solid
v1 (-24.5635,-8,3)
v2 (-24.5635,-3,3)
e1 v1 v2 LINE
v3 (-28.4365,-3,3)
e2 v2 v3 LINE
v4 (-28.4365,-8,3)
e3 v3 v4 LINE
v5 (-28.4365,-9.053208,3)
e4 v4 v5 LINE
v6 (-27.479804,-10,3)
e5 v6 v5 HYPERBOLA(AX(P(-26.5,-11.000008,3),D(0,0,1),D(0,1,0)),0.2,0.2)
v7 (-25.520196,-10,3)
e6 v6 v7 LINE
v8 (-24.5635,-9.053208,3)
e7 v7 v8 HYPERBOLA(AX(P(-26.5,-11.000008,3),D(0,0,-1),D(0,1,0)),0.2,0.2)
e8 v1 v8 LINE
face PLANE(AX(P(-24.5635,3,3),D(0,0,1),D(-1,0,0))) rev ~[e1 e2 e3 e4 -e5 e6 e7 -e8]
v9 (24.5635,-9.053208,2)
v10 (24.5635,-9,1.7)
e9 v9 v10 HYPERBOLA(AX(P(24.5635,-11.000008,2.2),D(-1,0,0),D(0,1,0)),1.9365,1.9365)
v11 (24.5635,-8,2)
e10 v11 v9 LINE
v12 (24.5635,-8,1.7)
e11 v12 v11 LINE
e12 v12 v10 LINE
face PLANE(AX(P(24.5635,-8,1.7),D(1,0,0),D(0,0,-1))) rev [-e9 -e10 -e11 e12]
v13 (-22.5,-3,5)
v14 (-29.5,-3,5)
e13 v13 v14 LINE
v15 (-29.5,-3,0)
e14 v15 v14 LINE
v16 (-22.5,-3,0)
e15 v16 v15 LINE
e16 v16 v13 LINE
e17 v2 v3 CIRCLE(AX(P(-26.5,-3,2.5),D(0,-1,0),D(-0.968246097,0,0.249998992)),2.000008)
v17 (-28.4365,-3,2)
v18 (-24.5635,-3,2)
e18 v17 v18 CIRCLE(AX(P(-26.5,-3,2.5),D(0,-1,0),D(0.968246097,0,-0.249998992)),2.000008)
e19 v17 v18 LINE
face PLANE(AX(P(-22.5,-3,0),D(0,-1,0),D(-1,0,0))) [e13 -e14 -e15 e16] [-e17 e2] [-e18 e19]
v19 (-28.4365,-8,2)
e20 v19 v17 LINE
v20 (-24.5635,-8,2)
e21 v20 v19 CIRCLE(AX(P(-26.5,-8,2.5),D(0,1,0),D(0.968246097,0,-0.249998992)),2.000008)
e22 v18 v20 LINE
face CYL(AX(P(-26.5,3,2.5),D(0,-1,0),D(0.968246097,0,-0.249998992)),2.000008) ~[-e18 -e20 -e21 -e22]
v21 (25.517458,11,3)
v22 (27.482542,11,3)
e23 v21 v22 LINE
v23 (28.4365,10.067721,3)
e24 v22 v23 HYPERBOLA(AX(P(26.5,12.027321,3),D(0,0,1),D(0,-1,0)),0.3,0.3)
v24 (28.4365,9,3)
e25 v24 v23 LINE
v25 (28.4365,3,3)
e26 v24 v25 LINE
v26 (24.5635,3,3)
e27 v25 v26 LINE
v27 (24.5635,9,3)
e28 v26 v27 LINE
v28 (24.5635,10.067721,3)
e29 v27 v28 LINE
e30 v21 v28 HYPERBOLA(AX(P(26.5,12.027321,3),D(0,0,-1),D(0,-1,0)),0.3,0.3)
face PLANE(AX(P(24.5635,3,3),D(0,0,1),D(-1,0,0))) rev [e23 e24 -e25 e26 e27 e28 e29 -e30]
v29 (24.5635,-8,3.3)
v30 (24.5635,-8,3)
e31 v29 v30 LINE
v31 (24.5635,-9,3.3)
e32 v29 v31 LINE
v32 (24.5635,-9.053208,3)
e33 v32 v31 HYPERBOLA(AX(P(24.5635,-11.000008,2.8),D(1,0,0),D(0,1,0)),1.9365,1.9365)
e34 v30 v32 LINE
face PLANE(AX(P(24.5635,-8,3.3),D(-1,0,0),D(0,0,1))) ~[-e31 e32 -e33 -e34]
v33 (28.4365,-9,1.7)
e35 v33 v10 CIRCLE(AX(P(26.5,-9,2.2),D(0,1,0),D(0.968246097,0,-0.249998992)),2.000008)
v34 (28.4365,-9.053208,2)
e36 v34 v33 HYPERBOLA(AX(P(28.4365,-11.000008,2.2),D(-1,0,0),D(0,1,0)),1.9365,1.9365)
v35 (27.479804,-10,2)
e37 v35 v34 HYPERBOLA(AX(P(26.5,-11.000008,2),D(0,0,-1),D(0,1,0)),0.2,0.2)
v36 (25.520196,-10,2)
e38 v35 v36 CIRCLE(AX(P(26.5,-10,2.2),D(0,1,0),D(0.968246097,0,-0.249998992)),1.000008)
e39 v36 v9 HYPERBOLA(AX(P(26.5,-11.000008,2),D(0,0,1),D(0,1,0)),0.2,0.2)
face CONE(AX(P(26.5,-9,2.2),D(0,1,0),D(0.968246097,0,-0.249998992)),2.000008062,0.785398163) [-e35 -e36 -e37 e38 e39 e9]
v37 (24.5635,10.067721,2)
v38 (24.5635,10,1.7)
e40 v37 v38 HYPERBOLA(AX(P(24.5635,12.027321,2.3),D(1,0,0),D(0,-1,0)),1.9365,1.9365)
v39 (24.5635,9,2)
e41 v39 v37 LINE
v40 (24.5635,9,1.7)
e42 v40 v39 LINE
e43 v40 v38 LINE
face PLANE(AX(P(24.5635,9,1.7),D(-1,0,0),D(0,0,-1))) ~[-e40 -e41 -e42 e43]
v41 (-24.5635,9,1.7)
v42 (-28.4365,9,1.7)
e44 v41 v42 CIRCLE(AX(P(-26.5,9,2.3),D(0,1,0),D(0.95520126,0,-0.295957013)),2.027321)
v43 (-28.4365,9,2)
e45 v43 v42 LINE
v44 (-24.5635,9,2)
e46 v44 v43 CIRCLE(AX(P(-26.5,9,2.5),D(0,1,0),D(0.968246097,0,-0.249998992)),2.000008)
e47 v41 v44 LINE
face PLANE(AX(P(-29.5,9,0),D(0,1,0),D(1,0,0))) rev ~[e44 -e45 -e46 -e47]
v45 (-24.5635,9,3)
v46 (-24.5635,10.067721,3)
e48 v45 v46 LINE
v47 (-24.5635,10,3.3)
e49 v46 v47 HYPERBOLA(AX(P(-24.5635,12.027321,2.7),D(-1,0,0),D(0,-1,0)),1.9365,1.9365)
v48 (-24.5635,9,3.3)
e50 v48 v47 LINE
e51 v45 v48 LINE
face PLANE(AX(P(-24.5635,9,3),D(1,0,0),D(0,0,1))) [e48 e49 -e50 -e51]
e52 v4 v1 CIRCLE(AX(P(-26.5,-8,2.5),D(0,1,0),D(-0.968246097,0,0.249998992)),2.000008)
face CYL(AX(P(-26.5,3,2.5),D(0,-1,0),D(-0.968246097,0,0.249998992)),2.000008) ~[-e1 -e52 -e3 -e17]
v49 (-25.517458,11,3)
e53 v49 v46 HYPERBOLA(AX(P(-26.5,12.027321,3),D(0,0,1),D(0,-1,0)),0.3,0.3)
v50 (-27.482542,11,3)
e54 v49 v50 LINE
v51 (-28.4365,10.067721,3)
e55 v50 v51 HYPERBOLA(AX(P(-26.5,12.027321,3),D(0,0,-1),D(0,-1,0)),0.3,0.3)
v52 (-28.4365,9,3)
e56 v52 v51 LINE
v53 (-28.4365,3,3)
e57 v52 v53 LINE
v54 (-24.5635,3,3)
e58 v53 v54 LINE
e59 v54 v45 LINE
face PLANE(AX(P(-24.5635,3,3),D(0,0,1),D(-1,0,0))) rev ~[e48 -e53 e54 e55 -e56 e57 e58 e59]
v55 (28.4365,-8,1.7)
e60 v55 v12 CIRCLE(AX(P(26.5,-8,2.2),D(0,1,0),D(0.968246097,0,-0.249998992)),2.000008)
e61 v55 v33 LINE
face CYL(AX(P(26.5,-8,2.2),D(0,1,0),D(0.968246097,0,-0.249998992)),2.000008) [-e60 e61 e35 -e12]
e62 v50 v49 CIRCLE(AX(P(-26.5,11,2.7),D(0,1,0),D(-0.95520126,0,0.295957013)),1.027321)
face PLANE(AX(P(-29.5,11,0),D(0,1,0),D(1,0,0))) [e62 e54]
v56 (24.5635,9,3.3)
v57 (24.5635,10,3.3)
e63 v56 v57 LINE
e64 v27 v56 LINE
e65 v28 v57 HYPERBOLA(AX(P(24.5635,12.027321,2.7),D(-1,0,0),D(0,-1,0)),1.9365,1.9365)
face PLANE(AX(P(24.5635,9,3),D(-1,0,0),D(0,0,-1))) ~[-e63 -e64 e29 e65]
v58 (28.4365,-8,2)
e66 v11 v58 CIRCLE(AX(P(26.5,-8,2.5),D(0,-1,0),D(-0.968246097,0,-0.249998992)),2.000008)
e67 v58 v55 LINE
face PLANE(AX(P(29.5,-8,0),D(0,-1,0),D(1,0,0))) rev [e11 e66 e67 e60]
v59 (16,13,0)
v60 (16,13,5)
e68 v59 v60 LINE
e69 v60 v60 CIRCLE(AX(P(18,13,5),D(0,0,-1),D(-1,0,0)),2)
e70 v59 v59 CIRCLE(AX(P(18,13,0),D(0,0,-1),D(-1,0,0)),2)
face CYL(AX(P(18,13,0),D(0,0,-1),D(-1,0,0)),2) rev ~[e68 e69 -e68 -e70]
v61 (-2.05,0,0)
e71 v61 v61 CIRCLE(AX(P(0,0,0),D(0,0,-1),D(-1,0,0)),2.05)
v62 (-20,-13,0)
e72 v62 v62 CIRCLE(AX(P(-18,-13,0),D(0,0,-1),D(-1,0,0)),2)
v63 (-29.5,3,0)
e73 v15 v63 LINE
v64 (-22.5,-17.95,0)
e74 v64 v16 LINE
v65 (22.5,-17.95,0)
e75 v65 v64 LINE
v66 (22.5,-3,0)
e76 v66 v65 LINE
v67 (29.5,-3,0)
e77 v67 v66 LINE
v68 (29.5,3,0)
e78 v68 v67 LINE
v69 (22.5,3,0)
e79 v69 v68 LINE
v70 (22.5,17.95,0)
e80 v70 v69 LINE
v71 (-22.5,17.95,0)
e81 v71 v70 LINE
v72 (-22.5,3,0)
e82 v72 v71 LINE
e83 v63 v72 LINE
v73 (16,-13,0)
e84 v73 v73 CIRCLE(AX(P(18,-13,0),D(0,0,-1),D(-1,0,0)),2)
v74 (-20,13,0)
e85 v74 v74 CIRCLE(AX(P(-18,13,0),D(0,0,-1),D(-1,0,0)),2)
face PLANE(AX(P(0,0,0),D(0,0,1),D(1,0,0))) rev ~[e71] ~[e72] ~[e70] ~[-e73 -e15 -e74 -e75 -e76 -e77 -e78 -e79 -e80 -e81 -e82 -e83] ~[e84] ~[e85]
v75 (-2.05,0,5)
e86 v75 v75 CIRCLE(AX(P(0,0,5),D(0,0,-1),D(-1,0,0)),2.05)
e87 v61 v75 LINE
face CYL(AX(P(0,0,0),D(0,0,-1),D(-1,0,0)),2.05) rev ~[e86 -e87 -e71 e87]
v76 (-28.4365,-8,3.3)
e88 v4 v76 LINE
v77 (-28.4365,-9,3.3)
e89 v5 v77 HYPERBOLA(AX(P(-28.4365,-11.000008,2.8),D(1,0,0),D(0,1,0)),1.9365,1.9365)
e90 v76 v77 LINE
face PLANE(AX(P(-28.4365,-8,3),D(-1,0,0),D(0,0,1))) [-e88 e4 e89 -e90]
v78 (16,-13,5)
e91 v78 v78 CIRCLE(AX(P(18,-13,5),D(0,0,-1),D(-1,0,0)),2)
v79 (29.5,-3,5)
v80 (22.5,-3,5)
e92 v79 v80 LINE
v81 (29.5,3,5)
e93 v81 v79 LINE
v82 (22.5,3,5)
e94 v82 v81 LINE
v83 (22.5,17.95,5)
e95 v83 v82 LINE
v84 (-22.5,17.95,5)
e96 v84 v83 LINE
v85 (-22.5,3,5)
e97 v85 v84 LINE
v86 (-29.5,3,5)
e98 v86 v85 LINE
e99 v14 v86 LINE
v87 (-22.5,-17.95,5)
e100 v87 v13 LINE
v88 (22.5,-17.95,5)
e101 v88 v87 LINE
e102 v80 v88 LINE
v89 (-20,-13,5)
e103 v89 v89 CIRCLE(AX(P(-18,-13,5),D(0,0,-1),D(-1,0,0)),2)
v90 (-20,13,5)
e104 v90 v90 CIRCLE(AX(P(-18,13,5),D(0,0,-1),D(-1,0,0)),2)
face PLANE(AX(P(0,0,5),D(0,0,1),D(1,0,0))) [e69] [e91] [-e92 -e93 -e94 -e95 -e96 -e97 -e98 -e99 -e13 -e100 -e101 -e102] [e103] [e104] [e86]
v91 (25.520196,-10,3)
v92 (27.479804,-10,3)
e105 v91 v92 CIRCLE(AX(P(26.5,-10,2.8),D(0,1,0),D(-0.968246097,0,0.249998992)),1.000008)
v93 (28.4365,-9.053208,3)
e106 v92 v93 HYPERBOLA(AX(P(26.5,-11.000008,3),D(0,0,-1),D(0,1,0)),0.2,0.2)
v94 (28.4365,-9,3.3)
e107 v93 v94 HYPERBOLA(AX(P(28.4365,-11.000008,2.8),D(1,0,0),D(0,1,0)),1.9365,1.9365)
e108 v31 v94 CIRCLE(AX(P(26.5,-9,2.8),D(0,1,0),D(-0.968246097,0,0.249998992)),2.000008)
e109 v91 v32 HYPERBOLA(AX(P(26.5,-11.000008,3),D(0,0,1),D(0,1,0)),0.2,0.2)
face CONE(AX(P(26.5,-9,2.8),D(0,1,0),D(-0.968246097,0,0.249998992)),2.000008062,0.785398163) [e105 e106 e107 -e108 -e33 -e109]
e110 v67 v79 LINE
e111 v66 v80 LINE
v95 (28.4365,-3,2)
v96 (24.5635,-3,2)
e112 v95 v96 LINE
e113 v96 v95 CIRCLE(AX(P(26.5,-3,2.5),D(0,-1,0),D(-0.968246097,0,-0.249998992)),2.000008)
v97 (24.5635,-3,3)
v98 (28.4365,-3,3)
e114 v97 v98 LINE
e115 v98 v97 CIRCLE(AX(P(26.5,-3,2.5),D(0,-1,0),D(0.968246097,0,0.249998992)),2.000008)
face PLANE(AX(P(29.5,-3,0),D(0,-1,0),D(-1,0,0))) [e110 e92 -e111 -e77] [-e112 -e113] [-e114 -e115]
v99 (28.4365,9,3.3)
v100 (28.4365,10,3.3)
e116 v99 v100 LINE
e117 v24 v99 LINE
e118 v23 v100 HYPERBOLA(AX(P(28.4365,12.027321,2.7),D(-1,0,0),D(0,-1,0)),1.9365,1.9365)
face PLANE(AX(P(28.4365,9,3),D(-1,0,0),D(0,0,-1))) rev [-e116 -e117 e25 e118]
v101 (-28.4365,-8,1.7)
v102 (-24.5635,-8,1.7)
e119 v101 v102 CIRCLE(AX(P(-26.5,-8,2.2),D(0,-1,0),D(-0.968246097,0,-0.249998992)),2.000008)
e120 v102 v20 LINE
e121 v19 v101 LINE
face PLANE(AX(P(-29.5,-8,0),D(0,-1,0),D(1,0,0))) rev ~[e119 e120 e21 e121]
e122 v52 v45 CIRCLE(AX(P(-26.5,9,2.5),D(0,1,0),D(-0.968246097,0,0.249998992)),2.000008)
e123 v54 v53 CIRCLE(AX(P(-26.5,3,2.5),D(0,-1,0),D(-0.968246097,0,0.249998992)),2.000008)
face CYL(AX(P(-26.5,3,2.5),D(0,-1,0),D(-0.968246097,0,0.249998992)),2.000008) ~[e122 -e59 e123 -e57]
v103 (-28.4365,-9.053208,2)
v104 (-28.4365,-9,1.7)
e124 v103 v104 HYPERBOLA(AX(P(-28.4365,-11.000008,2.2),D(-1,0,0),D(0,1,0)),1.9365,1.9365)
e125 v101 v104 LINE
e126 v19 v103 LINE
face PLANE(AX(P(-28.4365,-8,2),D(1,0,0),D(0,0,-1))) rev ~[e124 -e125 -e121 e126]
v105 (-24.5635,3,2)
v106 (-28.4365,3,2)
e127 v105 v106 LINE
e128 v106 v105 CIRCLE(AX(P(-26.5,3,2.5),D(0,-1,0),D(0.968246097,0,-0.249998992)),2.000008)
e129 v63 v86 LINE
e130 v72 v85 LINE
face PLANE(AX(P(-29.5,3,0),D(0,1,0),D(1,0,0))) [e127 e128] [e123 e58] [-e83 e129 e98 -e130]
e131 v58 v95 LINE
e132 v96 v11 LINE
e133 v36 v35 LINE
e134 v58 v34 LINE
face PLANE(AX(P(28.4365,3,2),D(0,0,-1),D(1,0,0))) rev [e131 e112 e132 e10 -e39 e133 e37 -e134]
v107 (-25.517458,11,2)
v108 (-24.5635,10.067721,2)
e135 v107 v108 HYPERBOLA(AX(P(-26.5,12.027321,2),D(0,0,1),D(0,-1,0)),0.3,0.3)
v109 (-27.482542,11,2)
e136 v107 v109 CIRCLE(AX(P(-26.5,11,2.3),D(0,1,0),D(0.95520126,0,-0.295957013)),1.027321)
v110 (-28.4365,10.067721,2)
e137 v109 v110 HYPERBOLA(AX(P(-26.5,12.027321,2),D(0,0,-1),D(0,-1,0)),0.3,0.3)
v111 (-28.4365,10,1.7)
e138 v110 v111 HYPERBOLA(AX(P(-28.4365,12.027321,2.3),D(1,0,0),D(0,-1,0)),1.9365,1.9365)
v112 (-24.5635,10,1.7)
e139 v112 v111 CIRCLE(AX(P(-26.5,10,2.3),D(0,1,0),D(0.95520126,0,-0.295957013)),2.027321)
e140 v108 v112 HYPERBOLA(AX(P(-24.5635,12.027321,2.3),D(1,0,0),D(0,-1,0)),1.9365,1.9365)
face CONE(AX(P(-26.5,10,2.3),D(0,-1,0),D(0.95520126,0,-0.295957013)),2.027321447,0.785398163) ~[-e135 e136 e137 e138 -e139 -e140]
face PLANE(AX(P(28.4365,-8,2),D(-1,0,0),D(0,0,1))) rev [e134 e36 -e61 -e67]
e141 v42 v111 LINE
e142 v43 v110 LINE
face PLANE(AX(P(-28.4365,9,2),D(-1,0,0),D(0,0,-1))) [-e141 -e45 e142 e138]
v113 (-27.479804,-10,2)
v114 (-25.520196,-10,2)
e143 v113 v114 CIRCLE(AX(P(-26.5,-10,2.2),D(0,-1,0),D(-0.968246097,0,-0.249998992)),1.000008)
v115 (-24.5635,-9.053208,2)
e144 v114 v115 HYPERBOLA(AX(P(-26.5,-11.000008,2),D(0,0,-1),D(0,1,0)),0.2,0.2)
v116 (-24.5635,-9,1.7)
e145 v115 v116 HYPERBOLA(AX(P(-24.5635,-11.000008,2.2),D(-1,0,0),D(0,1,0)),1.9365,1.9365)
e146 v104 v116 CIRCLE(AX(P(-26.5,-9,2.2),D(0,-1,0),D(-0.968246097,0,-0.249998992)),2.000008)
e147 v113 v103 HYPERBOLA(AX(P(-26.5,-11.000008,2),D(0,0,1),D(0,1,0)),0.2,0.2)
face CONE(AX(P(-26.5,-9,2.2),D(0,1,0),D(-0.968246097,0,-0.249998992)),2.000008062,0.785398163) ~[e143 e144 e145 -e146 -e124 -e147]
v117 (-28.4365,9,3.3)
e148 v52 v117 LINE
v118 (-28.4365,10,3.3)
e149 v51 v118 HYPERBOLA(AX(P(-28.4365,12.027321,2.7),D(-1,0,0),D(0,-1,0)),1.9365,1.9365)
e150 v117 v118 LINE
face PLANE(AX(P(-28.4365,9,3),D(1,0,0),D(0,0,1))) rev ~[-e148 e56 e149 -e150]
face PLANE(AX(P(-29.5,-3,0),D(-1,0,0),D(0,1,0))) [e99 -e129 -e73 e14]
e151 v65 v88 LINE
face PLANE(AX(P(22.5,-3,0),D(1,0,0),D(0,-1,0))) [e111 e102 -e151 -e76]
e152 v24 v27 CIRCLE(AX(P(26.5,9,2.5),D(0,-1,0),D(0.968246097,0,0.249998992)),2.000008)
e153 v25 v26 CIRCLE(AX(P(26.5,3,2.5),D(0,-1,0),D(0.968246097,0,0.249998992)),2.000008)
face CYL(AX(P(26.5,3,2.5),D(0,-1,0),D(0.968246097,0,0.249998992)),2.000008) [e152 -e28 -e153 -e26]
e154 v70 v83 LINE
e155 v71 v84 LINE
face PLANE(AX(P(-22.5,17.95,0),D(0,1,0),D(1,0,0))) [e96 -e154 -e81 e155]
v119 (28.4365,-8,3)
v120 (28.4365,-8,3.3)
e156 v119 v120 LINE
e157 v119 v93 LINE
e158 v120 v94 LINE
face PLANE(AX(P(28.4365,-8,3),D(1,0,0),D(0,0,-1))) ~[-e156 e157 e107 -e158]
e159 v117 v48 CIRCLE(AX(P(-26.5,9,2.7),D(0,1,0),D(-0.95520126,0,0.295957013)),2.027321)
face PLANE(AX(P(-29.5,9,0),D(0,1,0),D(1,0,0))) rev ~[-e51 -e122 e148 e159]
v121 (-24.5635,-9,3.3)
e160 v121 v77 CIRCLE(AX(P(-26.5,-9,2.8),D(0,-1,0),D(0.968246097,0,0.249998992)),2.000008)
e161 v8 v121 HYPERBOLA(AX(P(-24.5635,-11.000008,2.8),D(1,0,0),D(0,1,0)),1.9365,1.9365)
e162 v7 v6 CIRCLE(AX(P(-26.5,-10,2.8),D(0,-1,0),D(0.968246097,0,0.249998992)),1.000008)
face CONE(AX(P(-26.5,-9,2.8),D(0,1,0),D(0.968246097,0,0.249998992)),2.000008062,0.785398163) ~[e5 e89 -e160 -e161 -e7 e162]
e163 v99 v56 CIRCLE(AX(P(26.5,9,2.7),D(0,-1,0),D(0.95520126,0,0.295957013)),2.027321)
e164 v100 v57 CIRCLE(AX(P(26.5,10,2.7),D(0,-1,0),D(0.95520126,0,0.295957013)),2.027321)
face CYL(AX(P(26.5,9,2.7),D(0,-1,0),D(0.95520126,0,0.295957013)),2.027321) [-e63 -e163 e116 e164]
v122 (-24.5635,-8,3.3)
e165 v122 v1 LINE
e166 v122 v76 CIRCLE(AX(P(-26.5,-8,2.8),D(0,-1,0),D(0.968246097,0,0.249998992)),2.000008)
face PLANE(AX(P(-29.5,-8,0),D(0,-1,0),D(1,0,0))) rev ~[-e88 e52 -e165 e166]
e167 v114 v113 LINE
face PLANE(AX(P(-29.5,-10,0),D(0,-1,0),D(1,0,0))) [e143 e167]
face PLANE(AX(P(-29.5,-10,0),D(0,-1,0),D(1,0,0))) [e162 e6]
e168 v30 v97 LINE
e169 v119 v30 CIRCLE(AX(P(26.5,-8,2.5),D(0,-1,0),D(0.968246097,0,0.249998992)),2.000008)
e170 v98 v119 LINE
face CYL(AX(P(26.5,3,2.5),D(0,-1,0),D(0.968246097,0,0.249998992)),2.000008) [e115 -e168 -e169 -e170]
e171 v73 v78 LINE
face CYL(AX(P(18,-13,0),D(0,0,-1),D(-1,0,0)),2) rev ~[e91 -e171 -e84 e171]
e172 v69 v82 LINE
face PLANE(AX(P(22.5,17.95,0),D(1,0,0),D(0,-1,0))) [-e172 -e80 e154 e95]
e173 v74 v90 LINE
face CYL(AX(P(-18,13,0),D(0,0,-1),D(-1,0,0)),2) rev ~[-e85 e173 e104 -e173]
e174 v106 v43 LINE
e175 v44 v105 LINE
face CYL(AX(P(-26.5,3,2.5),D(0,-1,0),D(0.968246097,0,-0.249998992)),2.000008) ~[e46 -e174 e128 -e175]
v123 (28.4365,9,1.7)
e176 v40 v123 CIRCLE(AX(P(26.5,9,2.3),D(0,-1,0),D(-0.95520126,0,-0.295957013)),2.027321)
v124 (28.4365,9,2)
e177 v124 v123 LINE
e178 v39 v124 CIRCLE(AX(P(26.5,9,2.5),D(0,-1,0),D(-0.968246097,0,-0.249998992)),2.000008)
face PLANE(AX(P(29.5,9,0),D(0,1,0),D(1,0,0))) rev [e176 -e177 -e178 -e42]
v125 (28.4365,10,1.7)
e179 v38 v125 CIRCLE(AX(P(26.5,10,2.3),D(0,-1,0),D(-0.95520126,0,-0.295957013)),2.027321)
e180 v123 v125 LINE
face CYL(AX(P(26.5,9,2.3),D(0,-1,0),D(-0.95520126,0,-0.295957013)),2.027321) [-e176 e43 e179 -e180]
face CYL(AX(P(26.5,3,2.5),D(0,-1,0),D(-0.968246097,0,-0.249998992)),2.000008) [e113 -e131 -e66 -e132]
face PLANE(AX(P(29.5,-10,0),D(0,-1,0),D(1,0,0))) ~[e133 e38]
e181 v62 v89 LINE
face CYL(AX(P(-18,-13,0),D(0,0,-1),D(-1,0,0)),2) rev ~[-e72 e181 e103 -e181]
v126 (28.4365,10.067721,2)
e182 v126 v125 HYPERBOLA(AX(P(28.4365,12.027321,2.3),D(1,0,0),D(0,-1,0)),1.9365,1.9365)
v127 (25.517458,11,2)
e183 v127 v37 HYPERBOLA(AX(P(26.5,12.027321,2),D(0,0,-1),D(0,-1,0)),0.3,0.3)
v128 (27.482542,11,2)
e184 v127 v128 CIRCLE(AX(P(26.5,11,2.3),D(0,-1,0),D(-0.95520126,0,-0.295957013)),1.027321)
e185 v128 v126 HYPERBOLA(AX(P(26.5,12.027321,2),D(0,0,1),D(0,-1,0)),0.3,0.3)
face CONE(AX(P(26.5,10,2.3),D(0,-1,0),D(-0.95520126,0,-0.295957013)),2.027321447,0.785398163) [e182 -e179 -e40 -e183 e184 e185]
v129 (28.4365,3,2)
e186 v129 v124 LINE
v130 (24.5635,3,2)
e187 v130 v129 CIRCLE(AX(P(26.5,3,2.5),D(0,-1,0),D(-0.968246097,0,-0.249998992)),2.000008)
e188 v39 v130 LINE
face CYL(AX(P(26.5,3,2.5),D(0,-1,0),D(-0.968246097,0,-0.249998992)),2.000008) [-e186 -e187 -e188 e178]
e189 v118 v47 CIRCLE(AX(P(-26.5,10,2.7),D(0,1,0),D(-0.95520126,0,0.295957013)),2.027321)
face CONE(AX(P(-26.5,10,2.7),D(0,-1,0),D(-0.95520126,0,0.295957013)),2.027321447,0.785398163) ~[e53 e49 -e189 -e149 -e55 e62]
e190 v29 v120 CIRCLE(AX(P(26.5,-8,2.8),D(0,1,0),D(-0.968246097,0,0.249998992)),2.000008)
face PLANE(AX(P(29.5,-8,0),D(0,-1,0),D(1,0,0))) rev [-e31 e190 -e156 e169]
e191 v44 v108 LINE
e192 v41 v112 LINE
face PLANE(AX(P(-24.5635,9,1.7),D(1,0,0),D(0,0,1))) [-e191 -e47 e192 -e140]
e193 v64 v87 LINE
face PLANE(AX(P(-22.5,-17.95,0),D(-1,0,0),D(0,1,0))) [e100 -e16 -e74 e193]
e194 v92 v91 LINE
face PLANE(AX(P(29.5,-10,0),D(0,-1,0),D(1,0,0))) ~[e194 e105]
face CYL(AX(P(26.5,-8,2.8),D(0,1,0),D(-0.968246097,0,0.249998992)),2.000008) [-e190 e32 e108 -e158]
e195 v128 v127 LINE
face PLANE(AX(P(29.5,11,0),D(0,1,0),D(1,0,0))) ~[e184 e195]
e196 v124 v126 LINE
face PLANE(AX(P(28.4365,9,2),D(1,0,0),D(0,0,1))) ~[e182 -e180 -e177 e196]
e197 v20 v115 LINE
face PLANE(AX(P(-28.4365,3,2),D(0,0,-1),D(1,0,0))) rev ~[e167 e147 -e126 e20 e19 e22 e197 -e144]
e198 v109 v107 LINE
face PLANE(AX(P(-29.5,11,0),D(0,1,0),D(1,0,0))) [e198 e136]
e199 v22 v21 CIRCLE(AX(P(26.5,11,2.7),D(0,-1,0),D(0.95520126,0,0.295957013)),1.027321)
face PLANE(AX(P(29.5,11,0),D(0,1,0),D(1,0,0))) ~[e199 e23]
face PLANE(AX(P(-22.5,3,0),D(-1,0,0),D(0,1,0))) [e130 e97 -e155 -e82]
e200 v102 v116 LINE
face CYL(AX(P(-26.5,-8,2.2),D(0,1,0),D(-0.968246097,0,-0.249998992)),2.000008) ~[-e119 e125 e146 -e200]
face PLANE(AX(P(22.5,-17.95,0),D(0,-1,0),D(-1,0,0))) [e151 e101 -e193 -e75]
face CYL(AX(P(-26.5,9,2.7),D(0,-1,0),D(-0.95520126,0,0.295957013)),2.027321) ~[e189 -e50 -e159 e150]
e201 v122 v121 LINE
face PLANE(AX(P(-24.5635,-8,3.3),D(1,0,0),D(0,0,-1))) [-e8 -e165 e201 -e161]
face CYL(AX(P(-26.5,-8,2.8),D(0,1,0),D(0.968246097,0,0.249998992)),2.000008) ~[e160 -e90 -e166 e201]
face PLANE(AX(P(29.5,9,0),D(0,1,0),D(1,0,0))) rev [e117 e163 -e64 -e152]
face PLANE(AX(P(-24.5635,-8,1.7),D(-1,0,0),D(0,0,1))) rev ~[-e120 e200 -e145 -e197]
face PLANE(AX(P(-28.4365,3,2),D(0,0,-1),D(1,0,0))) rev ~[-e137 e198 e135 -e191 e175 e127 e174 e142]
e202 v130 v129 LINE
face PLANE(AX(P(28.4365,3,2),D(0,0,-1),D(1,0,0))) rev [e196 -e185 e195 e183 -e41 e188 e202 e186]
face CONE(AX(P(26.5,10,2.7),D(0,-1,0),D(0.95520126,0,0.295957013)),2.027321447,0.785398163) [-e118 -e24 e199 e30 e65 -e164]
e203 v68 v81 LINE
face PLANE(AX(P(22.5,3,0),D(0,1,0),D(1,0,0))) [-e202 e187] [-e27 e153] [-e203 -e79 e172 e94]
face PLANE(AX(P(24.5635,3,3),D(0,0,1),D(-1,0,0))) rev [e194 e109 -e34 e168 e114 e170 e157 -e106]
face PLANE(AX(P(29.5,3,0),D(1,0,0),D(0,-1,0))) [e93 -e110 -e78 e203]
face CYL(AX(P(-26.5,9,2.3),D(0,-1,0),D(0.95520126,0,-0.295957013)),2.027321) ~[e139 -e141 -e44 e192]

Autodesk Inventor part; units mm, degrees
ref_plane "YZ Plane" through (0, 0, 0) normal (1, 0, 0) x (0, 1, 0)
ref_plane "XZ Plane" through (0, 0, 0) normal (0, 1, 0) x (-1, 0, 0)
sketch "Sketch1" plane through (0, 0, 0) normal (0, 0, 1) x (1, 0, 0)
  line L0 (-22.5, 17.95) -> (22.5, 17.95)
  line L1 (22.5, 17.95) -> (22.5, -17.95)
  line L2 (22.5, -17.95) -> (-22.5, -17.95)
  line L3 (-22.5, -17.95) -> (-22.5, 17.95)
  line L4 (-29.5, 3) -> (29.5, 3)
  line L5 (29.5, 3) -> (29.5, -3)
  line L6 (29.5, -3) -> (-29.5, -3)
  line L7 (-29.5, -3) -> (-29.5, 3)
  line L8 (-22.5, -17.95) -> (22.5, 17.95) construction
  line L9 (-22.5, 17.95) -> (22.5, -17.95) construction
  line L10 (29.5, 3) -> (-29.5, -3) construction
  line L11 (-29.5, 3) -> (29.5, -3) construction
  point P0 (0, 0)
  point P1 (0, 0)
  point P2 (0, 0)
  dimension "d8" = 35.9
  dimension "d9" = 45
  dimension "d10" = 6
  dimension "d11" = 59
extrude "Extrusion1" add sketch "Sketch1" along normal blind 5
sketch "Sketch2" plane through (0, 0, 0) normal (0, 0, -1) x (-1, 0, 0)
  circle A0 centre (0, 0) radius 2.05
  circle A1 centre (-18, 13) radius 2
  line L0 (0, 0) -> (16.3137, 0) construction
  line L1 (0, 0) -> (0, -11.5343) construction
  circle A2 centre (18, 13) radius 2
  circle A3 centre (-18, -13) radius 2
  circle A4 centre (18, -13) radius 2
  dimension "d2" = 4
  dimension "d3" = 36
  dimension "d4" = 26
  dimension "d5" = 4.1
extrude "Extrusion2" cut sketch "Sketch2" against normal blind 5
sketch "Sketch3" plane through (-29.5, 3, 0) normal (0, 1, 0) x (1, 0, 0)
  line L0 (0, 0) -> (0, -5) projected
  line L1 (0, 0) -> (7, 0) projected
  line L2 (1.0635, -2) -> (4.9365, -2)
  line L3 (4.9365, -3) -> (1.0635, -3)
  arc A0 (1.0635, -3) -> (4.9365, -3) centre (3, -2.5) ccw
  arc A1 (4.9365, -2) -> (1.0635, -2) centre (3, -2.5) ccw
  point P0 (29.5, 0)
  dimension "d13" = 3
  dimension "d14" = 2.5
  dimension "d15" = 0.5
  dimension "d16" = 0.5
  dimension "d19" = 2
  dimension "d20" = 2
extrude "Extrusion3" add sketch "Sketch3" along normal blind 6 and the other way blind 11
sketch "Sketch4" plane through (-29.5, 9, 0) normal (0, 1, 0) x (1, 0, 0)
  line L0 (1.0635, -2) -> (4.9365, -2) projected
  arc A0 (4.9365, -2) -> (1.0635, -2) centre (3, -2.5) ccw projected
  line L1 (4.9365, -3) -> (1.0635, -3) projected
  arc A1 (1.0635, -3) -> (4.9365, -3) centre (3, -2.5) ccw projected
  line L2 (1.0635, -1.7) -> (4.9365, -1.7)
  arc A2 (4.9365, -1.7) -> (1.0635, -1.7) centre (3, -2.3) ccw
  line L3 (1.0635, -2) -> (1.0635, -1.7)
  line L4 (4.9365, -1.7) -> (4.9365, -2)
  line L5 (3, -2.5) -> (0.4845, -2.5) construction
  arc A3 (1.0635, -3) -> (4.9365, -3) centre (3, -2.5) ccw
  line L6 (1.0635, -3.3) -> (4.9365, -3.3)
  arc A4 (1.0635, -3.3) -> (4.9365, -3.3) centre (3, -2.7) ccw
  line L7 (1.0635, -3) -> (1.0635, -3.3)
  line L8 (4.9365, -3) -> (4.9365, -3.3)
  point P0 (29.5, 0)
  dimension "d32" = 0.2
  dimension "d33" = 0.3
extrude "Extrusion4" add sketch "Sketch4" along normal blind 2
sketch "Sketch5" plane through (-29.5, -8, 0) normal (0, -1, 0) x (1, 0, 0)
  line L0 (4.9365, 2) -> (1.0635, 2) projected
  arc A0 (1.0635, 2) -> (4.9365, 2) centre (3, 2.5) ccw projected
  line L1 (1.0635, 3) -> (4.9365, 3) projected
  arc A1 (4.9365, 3) -> (1.0635, 3) centre (3, 2.5) ccw projected
  line L2 (4.9365, 1.7) -> (1.0635, 1.7)
  arc A2 (1.0635, 1.7) -> (4.9365, 1.7) centre (3, 2.2) ccw
  line L3 (4.9365, 1.7) -> (4.9365, 2)
  line L4 (1.0635, 2) -> (1.0635, 1.7)
  line L5 (3, 2.5) -> (4.482, 2.5)
  line L6 (4.9365, 3.3) -> (1.0635, 3.3)
  arc A3 (4.9365, 3.3) -> (1.0635, 3.3) centre (3, 2.8) ccw
  line L7 (4.9365, 3.3) -> (4.9365, 3)
  line L8 (1.0635, 3) -> (1.0635, 3.3)
  point P0 (29.5, 0)
  dimension "d35" = 0.3
  dimension "d36" = 0.3
  dimension "d37" = 2
extrude "Extrusion5" add sketch "Sketch5" along normal blind 2
sketch "Sketch7" plane through (0, 0, 5) normal (0, 0, 1) x (1, 0, 0)
  circle A0 centre (18, -13) radius 2 projected
  circle A1 centre (-18, 13) radius 2 projected
  circle A2 centre (18, 13) radius 2 projected
  circle A3 centre (-18, -13) radius 2 projected
  circle A4 centre (0, 0) radius 2.05 projected
  line L0 (-22.5, -3) -> (-22.5, -17.95) projected
  line L1 (-22.5, -17.95) -> (22.5, -17.95) projected
  line L2 (22.5, -17.95) -> (22.5, -3) projected
  line L3 (22.5, -3) -> (29.5, -3) projected
  line L4 (29.5, -3) -> (29.5, 3) projected
  line L5 (29.5, 3) -> (22.5, 3) projected
  line L6 (22.5, 3) -> (22.5, 17.95) projected
  line L7 (22.5, 17.95) -> (-22.5, 17.95) projected
  line L8 (-22.5, 17.95) -> (-22.5, 3) projected
  line L9 (-22.5, 3) -> (-29.5, 3) projected
  line L10 (-29.5, 3) -> (-29.5, -3) projected
  line L11 (-29.5, -3) -> (-22.5, -3) projected
ref_plane "Work Plane1" through (0, 0, 5) normal (1, 0, 0) x (0, 0, -1)
mirror "Mirror1" about plane through (0, 0, 5) normal (1, 0, 0) of "Extrusion3", "Extrusion4", "Extrusion5"
chamfer "Chamfer1" distance 1 angle 45 2 edges at (-26.5, 11, 0.2727) (-26.5, 11, 4.7273)
chamfer "Chamfer2" distance 1 angle 45 6 edges at (-26.5, -10, 0.2) (-26.5, -10, 4.8) (26.5, 11, 0.2727) (26.5, 11, 4.7273) (26.5, -10, 0.2) (26.5, -10, 4.8)
properties part number "mover01"
